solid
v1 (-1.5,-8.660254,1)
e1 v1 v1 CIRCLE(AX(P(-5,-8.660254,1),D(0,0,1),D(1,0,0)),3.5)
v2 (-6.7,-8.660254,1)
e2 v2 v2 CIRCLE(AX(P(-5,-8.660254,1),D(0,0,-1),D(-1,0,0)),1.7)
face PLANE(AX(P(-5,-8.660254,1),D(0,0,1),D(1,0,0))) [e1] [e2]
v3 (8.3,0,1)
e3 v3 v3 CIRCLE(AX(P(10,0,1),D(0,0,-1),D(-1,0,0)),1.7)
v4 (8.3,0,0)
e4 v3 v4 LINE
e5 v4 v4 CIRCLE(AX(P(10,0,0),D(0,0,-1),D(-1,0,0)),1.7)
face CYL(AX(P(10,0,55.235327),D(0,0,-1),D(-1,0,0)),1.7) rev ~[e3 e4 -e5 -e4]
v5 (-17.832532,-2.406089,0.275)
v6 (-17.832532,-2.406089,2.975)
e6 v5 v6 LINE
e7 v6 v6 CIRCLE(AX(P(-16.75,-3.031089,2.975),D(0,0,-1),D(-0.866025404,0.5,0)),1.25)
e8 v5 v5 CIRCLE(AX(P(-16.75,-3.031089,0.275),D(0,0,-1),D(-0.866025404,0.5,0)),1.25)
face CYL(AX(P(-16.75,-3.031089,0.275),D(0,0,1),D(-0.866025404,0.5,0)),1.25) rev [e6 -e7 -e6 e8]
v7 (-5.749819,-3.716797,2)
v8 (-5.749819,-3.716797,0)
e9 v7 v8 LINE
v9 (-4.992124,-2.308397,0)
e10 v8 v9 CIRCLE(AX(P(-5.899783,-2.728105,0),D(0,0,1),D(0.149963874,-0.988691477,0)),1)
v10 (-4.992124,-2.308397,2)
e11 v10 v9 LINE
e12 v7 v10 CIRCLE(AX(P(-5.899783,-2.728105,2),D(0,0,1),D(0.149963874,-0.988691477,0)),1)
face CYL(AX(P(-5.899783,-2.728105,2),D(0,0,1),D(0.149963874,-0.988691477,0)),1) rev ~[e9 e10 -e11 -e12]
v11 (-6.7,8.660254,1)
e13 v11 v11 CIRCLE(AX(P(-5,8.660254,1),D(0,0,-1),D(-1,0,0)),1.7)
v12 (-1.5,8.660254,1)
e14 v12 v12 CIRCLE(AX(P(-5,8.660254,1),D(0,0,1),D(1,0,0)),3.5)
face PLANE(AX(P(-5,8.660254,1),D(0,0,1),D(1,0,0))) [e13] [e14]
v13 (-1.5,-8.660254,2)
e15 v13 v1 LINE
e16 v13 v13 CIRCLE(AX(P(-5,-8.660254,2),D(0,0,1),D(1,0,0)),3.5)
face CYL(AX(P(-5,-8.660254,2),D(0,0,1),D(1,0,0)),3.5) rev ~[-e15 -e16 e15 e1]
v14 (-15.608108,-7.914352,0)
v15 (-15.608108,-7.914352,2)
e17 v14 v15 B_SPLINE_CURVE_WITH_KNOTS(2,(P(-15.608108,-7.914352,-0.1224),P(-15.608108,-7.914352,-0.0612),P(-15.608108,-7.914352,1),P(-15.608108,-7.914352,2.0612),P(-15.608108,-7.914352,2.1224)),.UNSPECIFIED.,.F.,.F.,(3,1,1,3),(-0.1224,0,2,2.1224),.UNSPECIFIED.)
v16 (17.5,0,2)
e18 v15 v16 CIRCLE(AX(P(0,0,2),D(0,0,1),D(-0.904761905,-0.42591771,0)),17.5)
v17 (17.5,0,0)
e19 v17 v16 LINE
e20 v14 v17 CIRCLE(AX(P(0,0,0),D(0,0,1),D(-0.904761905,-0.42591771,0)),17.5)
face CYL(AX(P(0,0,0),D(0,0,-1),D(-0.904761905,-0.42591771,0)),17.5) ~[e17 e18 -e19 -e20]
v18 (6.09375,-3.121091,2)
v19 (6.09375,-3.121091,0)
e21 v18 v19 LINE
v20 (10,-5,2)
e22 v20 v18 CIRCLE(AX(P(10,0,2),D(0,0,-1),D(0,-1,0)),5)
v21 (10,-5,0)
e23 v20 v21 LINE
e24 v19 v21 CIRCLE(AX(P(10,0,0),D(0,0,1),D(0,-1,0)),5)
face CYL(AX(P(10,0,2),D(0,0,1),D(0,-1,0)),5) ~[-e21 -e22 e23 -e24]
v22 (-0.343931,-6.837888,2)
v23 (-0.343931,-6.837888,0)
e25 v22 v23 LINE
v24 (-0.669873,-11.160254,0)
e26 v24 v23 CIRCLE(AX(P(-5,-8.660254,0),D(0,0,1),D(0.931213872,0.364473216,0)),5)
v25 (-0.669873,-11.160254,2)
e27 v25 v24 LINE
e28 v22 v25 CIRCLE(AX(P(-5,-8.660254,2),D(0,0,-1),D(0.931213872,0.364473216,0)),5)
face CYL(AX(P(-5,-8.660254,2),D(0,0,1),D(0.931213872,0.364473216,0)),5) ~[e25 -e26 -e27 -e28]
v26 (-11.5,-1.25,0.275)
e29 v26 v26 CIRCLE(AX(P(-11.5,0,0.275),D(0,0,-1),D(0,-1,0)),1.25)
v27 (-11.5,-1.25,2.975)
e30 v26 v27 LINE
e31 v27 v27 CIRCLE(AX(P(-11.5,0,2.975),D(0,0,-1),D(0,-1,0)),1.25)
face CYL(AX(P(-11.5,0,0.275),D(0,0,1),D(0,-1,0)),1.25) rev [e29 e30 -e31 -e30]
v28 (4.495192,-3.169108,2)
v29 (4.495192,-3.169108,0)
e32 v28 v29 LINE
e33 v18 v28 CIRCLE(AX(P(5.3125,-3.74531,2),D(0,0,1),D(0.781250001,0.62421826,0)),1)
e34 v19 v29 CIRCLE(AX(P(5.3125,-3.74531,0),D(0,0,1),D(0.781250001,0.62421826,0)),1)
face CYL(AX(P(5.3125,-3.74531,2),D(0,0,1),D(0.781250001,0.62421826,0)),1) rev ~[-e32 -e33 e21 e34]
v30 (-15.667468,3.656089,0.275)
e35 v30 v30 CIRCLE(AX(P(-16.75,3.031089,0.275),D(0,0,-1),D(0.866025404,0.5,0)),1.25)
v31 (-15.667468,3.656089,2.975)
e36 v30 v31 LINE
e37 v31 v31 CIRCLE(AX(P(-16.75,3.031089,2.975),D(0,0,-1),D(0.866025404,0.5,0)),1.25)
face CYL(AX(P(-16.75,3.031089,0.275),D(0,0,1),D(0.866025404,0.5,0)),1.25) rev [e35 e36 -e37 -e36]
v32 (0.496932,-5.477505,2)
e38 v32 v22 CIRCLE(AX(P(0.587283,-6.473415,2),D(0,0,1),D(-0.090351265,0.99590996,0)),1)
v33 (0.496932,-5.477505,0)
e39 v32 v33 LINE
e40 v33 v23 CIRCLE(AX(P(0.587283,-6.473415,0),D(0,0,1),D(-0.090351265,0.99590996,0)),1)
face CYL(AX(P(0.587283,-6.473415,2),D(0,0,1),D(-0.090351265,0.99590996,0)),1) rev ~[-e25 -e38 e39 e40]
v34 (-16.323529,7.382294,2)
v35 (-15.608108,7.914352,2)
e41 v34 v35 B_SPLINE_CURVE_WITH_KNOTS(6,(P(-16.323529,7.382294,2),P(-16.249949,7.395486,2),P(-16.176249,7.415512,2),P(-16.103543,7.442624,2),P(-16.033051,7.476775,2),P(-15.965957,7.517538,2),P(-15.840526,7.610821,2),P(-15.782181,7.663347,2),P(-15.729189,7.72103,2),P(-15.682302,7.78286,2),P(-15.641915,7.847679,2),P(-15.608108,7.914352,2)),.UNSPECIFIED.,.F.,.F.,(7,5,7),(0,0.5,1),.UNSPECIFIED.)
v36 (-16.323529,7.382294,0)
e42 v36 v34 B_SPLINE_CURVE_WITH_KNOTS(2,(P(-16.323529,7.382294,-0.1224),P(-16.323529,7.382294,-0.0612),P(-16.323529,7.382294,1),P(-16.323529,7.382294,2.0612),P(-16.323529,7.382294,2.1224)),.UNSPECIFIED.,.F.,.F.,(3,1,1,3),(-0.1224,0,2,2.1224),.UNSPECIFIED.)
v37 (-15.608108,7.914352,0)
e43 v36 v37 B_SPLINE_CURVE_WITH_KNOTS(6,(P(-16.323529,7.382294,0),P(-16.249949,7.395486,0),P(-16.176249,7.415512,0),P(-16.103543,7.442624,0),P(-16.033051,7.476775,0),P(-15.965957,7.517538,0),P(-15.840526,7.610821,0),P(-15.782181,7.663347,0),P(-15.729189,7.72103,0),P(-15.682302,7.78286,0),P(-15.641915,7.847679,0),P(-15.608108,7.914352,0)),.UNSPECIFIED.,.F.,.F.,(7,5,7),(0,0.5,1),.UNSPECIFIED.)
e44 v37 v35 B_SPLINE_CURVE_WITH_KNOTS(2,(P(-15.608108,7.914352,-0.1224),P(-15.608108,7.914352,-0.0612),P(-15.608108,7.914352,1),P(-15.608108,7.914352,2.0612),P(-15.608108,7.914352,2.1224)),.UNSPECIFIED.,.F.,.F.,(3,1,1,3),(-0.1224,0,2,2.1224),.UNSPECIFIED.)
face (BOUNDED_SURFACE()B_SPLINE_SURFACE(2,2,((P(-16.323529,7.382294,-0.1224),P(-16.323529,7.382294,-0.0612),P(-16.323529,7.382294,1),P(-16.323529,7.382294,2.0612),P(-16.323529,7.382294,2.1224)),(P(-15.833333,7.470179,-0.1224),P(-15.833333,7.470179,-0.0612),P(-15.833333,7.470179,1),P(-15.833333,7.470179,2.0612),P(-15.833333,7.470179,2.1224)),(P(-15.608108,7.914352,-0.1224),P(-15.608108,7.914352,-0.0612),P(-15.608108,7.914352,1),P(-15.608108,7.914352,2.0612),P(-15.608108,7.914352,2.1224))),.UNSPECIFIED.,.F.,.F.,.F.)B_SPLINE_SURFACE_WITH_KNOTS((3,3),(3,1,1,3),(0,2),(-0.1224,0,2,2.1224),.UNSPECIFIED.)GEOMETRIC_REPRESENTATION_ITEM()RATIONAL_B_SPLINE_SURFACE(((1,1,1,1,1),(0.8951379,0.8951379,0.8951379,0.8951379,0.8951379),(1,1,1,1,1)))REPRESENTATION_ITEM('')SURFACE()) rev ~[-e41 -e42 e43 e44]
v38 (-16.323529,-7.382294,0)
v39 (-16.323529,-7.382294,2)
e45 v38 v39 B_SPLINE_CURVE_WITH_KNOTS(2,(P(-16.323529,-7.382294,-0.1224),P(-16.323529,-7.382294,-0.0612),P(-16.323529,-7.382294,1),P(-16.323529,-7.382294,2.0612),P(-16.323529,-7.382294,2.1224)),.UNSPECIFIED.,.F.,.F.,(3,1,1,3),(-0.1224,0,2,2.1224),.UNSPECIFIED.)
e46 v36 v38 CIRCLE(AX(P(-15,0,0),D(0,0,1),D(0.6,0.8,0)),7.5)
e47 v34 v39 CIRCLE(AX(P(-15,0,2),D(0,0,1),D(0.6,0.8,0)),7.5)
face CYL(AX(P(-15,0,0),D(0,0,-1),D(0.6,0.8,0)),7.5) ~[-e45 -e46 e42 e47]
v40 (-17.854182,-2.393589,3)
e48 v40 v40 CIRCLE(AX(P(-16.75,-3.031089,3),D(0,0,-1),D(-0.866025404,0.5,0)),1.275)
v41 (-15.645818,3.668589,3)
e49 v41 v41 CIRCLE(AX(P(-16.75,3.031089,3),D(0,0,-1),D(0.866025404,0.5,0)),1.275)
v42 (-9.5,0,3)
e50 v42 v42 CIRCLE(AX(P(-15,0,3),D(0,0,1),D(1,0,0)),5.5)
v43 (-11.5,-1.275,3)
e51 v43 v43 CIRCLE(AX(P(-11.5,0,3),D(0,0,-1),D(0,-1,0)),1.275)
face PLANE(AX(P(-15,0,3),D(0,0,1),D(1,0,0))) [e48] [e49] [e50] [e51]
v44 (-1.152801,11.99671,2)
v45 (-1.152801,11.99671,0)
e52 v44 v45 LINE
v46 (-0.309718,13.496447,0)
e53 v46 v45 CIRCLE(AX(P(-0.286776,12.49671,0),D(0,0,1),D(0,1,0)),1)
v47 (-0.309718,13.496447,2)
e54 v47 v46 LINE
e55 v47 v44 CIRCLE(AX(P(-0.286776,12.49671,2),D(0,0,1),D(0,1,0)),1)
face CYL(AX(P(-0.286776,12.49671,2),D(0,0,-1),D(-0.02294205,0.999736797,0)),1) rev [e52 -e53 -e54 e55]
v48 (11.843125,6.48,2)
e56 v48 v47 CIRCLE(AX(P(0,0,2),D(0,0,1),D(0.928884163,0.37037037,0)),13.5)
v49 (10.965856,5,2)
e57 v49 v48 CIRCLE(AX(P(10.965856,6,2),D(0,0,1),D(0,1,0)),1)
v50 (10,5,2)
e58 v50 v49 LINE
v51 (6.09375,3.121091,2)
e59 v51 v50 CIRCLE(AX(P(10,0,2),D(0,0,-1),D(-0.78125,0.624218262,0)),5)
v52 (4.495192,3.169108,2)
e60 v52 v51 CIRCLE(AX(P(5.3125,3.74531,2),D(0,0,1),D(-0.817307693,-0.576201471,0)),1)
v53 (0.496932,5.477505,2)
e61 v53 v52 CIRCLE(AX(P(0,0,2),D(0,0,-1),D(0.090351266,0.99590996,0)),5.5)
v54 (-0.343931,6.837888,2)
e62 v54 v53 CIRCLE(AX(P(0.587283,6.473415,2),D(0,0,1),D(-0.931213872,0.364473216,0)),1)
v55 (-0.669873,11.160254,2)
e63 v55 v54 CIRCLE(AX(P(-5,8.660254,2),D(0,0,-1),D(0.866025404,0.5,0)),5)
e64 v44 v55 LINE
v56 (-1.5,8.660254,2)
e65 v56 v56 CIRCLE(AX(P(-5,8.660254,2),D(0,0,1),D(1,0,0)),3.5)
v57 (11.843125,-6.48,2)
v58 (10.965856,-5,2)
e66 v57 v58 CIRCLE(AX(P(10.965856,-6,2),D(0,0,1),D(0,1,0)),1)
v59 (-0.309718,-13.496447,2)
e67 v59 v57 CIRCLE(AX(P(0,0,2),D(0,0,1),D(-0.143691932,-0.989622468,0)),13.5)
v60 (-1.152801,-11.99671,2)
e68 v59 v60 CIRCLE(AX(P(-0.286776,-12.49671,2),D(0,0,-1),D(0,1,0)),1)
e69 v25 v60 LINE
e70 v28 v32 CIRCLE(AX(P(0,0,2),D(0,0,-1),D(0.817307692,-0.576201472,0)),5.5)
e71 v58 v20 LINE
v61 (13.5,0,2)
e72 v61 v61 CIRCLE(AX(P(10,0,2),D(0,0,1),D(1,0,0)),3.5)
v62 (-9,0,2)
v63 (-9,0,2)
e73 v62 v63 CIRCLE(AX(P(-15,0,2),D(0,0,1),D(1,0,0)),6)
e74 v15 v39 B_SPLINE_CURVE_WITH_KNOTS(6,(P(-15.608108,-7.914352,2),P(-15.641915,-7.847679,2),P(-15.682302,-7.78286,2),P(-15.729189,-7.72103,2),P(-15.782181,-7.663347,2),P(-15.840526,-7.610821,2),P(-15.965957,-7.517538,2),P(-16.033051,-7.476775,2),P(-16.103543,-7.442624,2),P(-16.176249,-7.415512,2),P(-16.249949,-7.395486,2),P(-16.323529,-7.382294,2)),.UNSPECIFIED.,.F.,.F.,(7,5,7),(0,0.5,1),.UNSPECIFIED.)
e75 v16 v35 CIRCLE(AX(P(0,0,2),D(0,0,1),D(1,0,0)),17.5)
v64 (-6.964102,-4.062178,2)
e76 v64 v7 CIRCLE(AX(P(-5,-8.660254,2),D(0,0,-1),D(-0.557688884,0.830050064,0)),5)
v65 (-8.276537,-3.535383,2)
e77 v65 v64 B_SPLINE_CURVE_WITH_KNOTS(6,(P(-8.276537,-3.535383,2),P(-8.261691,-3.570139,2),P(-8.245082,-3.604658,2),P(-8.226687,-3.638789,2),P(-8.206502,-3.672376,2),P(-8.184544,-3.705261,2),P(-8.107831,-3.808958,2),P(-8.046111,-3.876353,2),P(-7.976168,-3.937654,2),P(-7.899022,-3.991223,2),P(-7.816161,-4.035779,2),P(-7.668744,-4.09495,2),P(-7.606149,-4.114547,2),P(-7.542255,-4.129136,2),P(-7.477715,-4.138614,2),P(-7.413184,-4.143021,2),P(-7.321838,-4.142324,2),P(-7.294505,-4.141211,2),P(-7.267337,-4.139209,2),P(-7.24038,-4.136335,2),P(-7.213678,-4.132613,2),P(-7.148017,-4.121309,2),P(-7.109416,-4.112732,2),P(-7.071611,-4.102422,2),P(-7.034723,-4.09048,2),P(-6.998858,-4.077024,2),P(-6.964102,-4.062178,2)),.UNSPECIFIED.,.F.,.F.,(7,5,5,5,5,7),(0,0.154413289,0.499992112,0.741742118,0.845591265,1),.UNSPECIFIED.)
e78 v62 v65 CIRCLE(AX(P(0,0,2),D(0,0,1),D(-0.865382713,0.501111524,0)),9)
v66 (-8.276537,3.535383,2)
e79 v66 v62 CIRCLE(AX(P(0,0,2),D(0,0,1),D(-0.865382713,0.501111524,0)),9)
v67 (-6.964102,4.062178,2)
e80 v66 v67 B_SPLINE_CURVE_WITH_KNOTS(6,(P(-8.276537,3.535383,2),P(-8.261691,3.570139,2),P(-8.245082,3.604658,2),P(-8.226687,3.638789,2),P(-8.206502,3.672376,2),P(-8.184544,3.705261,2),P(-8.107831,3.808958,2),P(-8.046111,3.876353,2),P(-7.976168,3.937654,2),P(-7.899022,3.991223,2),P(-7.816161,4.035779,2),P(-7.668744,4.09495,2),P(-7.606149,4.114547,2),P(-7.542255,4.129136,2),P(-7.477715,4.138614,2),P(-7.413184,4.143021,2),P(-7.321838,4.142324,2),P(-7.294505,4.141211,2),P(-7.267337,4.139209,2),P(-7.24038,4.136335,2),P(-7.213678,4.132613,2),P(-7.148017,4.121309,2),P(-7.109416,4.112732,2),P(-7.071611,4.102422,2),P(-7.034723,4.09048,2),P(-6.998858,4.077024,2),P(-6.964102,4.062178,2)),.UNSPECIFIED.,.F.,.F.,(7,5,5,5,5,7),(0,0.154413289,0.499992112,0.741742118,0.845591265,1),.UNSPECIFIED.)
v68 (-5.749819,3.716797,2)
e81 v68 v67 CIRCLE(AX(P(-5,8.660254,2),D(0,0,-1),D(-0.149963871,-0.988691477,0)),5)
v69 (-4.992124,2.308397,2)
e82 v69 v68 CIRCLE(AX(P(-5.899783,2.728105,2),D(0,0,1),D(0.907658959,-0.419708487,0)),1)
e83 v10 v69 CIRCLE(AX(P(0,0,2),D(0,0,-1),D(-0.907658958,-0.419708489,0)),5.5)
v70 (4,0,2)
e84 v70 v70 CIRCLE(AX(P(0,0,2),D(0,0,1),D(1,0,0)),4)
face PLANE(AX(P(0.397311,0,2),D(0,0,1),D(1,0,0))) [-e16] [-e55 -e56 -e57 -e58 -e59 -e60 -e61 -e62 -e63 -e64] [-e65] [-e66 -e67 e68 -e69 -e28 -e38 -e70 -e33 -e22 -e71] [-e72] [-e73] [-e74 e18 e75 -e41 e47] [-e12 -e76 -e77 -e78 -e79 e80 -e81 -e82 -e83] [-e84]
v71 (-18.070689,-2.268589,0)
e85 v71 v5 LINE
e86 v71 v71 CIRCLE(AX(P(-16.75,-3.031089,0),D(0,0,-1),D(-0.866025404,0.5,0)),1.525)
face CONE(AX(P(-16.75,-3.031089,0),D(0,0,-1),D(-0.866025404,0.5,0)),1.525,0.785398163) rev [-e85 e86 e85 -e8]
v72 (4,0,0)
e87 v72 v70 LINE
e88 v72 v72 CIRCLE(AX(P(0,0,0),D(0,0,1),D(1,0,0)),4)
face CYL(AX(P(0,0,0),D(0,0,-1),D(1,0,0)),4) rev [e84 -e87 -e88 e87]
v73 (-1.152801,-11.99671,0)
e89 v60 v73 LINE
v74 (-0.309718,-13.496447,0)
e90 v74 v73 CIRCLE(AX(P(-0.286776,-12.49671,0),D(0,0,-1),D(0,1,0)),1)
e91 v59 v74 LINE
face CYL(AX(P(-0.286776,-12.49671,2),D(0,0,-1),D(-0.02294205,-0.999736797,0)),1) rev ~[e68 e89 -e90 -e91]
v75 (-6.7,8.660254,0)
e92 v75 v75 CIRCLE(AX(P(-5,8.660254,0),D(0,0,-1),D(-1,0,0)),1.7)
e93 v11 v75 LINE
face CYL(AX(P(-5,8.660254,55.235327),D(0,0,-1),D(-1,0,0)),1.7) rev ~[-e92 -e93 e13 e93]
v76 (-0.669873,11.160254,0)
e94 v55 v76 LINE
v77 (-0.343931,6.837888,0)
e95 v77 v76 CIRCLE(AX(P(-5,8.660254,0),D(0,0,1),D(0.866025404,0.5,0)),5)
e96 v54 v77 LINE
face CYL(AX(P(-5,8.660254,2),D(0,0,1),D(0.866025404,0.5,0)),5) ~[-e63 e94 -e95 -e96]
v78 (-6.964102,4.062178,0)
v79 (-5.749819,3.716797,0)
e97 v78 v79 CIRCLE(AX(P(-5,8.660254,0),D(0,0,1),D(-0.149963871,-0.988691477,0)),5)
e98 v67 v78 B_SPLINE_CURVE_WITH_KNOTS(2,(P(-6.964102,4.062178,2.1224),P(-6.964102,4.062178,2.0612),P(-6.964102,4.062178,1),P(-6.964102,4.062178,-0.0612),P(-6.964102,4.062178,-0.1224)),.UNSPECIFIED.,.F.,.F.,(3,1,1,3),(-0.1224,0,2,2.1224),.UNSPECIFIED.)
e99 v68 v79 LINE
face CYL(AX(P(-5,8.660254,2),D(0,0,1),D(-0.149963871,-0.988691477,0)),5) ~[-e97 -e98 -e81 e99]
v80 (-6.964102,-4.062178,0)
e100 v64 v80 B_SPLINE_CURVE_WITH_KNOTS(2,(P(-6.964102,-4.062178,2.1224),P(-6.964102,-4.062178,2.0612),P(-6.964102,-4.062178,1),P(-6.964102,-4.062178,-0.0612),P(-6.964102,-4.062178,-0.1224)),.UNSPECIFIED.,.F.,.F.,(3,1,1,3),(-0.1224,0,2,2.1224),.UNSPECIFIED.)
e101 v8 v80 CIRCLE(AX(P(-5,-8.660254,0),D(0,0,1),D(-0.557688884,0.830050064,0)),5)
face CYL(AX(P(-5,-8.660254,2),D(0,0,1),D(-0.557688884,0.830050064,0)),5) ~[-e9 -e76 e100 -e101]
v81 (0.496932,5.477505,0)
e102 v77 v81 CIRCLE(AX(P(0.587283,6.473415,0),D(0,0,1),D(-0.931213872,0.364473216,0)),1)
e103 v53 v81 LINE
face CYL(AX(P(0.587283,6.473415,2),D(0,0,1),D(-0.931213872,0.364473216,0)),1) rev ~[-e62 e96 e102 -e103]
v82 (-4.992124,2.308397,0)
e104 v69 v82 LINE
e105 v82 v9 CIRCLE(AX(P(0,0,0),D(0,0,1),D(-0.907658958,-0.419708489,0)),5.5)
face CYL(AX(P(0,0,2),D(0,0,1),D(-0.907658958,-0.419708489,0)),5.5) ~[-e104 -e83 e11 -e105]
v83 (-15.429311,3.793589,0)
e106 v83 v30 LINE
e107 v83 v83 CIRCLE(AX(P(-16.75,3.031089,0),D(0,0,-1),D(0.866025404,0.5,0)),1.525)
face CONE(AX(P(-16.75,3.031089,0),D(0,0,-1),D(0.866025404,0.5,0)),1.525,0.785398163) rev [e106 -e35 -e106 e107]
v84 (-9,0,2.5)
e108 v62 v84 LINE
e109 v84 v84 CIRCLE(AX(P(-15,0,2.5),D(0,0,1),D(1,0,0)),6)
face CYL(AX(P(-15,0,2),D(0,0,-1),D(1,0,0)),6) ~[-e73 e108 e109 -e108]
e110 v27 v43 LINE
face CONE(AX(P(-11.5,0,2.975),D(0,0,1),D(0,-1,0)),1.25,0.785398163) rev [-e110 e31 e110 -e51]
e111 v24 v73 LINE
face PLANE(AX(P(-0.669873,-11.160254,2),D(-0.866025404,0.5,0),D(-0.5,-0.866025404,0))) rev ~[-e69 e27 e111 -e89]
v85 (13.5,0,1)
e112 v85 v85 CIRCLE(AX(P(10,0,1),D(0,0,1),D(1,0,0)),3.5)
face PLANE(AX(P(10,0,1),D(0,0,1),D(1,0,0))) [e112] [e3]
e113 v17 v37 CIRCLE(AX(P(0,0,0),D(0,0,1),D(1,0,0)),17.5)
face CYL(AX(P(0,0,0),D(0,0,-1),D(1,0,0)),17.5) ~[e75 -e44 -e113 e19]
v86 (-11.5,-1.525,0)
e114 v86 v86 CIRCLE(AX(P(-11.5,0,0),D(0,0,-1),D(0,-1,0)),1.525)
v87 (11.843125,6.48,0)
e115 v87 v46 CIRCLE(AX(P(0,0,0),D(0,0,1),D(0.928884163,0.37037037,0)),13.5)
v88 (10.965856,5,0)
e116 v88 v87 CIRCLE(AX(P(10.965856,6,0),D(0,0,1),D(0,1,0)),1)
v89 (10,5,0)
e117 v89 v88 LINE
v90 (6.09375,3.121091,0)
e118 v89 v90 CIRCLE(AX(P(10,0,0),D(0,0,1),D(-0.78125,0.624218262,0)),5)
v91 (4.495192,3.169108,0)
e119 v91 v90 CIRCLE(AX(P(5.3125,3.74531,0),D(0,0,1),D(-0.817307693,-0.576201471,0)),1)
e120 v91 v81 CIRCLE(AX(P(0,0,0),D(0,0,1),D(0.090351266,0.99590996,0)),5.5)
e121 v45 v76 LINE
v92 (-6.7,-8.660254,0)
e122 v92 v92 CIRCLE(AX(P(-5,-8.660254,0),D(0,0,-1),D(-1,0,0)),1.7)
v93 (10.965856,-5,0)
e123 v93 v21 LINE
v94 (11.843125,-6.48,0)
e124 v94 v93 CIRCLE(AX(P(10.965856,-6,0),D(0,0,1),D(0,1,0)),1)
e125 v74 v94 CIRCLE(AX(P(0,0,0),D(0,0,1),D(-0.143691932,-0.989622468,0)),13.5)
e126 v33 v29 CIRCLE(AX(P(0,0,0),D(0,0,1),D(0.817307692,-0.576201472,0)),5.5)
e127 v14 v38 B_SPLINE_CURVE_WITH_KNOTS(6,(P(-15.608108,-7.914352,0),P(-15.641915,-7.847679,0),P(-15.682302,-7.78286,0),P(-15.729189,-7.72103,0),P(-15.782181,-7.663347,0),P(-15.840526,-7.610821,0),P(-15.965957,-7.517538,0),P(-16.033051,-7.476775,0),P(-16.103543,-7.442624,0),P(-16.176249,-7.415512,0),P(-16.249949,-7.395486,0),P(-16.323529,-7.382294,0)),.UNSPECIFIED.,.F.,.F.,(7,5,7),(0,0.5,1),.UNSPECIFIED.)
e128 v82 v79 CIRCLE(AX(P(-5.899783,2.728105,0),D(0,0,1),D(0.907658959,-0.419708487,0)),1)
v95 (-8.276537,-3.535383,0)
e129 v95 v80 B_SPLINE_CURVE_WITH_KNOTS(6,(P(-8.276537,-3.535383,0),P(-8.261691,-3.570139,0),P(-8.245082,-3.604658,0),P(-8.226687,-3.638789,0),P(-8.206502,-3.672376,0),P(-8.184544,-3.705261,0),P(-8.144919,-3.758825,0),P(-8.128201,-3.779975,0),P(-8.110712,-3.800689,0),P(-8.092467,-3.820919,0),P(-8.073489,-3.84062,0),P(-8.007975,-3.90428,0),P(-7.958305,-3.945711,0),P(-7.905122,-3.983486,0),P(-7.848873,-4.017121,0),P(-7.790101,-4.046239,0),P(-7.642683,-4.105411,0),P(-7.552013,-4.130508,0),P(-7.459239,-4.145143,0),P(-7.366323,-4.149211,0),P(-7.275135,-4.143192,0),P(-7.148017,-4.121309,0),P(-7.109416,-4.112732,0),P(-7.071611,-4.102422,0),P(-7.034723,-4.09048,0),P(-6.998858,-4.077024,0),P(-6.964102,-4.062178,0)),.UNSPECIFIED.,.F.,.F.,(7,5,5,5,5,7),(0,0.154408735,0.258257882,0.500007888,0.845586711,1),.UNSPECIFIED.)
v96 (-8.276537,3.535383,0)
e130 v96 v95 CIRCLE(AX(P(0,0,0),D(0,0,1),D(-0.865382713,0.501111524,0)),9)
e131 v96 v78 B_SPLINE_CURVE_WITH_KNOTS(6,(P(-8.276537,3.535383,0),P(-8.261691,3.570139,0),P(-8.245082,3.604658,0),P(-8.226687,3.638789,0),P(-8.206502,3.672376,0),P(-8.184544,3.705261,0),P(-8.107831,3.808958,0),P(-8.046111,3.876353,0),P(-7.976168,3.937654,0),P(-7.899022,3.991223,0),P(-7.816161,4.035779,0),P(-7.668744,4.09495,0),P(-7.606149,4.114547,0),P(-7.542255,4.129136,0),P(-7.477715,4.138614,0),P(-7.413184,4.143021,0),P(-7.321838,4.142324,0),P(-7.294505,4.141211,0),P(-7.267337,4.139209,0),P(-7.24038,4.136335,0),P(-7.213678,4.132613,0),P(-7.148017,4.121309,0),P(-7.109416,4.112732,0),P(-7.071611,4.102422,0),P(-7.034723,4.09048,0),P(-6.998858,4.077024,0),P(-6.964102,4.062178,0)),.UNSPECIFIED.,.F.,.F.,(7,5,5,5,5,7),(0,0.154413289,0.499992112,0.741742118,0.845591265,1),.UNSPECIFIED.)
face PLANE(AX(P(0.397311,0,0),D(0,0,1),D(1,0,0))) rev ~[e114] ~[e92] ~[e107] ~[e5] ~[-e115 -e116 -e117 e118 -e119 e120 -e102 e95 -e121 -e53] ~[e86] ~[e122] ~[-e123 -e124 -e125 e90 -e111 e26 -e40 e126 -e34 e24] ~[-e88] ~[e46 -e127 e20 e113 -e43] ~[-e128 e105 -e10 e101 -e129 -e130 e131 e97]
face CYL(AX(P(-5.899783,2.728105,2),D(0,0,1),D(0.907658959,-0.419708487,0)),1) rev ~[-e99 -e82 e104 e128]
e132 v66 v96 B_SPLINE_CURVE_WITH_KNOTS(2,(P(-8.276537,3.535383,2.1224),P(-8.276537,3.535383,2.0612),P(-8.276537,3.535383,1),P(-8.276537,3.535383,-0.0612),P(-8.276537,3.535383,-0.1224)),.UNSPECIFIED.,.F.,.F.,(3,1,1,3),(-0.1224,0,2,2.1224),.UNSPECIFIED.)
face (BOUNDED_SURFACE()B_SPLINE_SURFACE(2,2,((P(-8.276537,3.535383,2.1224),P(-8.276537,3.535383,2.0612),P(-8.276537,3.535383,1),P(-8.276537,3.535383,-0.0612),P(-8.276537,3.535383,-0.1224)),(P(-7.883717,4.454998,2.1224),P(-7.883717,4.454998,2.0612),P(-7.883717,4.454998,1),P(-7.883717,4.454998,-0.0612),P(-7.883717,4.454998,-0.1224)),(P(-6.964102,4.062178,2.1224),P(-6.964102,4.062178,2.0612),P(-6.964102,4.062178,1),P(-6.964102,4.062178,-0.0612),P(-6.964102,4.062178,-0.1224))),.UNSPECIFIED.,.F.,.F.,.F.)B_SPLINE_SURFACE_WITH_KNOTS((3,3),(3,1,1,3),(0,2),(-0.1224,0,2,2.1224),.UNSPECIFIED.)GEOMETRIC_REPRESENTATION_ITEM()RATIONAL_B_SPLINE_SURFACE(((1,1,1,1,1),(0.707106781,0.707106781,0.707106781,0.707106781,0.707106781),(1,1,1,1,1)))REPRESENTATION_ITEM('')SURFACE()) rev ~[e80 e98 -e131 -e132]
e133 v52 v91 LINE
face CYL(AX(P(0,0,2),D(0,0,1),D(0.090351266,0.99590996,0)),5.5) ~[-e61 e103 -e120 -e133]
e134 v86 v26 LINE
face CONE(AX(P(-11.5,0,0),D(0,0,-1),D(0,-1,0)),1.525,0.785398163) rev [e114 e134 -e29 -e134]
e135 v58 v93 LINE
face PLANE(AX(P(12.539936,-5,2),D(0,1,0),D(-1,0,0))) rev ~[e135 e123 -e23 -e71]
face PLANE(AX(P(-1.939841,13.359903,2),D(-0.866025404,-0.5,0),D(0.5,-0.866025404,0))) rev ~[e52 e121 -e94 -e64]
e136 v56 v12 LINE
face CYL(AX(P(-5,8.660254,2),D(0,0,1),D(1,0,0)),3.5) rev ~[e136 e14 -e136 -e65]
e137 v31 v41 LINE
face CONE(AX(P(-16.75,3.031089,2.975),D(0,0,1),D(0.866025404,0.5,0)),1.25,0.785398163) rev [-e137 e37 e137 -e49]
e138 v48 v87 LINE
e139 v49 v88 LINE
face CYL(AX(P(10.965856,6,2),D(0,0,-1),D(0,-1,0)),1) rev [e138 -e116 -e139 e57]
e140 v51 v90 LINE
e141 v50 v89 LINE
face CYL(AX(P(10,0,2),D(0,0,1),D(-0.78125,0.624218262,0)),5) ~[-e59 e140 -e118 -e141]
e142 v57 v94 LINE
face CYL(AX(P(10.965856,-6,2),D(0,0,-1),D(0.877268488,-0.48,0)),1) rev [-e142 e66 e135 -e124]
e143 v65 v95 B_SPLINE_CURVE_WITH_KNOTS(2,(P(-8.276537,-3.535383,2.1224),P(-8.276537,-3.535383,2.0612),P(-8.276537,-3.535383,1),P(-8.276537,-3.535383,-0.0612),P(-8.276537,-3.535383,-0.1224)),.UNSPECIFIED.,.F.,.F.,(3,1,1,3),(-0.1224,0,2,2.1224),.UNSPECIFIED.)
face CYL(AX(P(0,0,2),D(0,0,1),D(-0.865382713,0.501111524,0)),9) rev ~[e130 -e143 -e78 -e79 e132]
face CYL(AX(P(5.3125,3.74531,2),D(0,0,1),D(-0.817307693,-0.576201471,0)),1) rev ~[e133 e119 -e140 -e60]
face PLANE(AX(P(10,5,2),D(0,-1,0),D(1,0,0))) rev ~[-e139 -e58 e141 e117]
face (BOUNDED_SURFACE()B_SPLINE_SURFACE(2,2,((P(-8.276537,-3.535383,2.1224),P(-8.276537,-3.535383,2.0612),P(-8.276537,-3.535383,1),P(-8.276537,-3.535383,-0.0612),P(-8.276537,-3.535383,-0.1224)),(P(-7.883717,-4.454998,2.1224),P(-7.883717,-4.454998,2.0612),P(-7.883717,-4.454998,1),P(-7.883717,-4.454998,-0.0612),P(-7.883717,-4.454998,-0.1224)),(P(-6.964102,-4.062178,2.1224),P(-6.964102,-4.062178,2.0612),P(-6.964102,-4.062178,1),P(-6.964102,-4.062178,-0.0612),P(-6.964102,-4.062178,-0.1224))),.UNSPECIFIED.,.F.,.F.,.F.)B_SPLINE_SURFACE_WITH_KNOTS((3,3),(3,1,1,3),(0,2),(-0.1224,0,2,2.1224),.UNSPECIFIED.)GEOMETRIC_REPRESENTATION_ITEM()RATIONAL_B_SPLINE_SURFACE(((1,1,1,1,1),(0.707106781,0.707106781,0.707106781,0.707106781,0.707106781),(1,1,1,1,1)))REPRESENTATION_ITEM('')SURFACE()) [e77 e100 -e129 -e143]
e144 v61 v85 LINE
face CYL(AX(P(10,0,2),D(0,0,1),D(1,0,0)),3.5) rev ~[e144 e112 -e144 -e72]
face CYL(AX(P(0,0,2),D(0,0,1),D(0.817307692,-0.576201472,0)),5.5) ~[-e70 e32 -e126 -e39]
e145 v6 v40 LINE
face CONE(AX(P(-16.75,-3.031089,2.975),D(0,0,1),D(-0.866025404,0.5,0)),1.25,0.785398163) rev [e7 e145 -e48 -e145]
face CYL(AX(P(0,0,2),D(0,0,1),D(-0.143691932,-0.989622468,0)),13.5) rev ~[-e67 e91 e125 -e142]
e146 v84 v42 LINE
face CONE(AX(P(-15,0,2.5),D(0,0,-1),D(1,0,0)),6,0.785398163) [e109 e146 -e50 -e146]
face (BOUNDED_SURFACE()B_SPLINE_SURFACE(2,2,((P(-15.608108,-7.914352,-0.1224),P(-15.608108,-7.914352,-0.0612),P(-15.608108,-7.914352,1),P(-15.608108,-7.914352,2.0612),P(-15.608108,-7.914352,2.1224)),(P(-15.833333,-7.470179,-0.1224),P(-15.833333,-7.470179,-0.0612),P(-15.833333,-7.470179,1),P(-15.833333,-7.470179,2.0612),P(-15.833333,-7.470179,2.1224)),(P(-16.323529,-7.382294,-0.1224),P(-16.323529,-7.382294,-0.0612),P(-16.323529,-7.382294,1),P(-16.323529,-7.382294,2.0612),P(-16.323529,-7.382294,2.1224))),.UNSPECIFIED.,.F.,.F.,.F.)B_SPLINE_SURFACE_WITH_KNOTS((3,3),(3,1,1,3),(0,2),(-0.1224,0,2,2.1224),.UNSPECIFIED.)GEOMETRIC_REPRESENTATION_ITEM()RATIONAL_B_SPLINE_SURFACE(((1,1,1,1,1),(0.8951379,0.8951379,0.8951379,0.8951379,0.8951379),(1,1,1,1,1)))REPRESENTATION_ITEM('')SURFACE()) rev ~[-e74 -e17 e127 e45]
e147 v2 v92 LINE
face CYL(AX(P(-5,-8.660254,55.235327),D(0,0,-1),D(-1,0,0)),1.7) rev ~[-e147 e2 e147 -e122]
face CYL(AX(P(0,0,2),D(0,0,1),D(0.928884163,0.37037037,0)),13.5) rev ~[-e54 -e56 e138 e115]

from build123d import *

# Parameters (mm, degrees)
SKETCH_1_R               = 4
EXTRUDE_1_DEPTH          = 2
SKETCH_6_R               = 6
EXTRUDE_3_DEPTH          = 1
SKETCH_2_R               = 0.5
CUT_EXTRUDE_1_DEPTH      = 2
PATTERN_CIRCULAR_1_COUNT = 3
CHAMFER_1_SIZE           = 0.5
EXTRUDE_START            = -2
EXTRUDE_4_DEPTH          = 2
HOLE_WIZARD_M3_1_D       = 3.4
SKETCH_11_R              = 3.5
CUT_EXTRUDE_3_DEPTH      = 1
CUT_EXTRUDE_4_DEPTH      = 29.574464124
FILLET_1_R               = 1
FILLET_2_R               = 1


with BuildPart() as part:
    # ｽｹｯﾁ1 → ﾎﾞｽ - 押し出し1 (new body)
    with BuildSketch(Plane.XY):
        with BuildLine():
            ThreePointArc((-4.5, -6), (7.5, 0), (-4.5, 6))
            ThreePointArc((-4.5, 6), (-7.5, 5), (-10.5, 6))
            ThreePointArc((-10.5, 6), (-22.5, 0), (-10.5, -6))
            ThreePointArc((-10.5, -6), (-7.5, -5), (-4.5, -6))
        make_face()
        Circle(SKETCH_1_R, mode=Mode.SUBTRACT)
    extrude(amount=EXTRUDE_1_DEPTH)

    # ｽｹｯﾁ6 → ﾎﾞｽ - 押し出し3 (add)
    with BuildSketch(Plane.XY.offset(2)):
        with Locations((-15, 0)):
            Circle(SKETCH_6_R)
    extrude(amount=EXTRUDE_3_DEPTH)

    # ｽｹｯﾁ2 → ｶｯﾄ - 押し出し1 (cut)
    with BuildSketch(Plane.XY.offset(3)):
        with Locations((-11.5, 0)):
            Circle(SKETCH_2_R)
    extrude(amount=-CUT_EXTRUDE_1_DEPTH, mode=Mode.SUBTRACT)

    # ｽｹｯﾁ4 → M3x0.5 ねじ穴1 (revolve, cut)
    with BuildSketch(Plane(origin=(-11.5, 0, 3), x_dir=(0, -1, 0), z_dir=(1, 0, 0))):
        Polygon((0, 0), (0, 3), (1.525, 3), (1.25, 2.725), (1.25, 0.025), (1.275, 0), align=None)
    m3x0_5_1 = revolve(axis=Axis((-11.5, 0, 9.35), (0, 0, -1)), mode=Mode.SUBTRACT)

    # 円形ﾊﾟﾀｰﾝ1: M3x0.5 ねじ穴1 ×3 about axis
    pattern_circular_1_axis = Axis((-15, 0, 0), (0, 0, 1))
    for i in range(1, PATTERN_CIRCULAR_1_COUNT):
        add(m3x0_5_1.rotate(pattern_circular_1_axis, i * 360 / PATTERN_CIRCULAR_1_COUNT), mode=Mode.SUBTRACT)

    # 面取り1
    chamfer_1_edges = [part.edges().sort_by_distance(p)[0] for p in [
        (-21, 0, 3),
    ]]
    chamfer(chamfer_1_edges, length=CHAMFER_1_SIZE)

    # ｽｹｯﾁ7 → ﾎﾞｽ - 押し出し4 (add)
    with BuildSketch(Plane.XY.offset(2).offset(EXTRUDE_START)):
        with BuildLine():
            ThreePointArc((-15.833333333, -7.453559925), (3.818813079, -17.078251277), (17.5, 0))
            ThreePointArc((17.5, 0), (3.818813079, 17.078251277), (-15.833333333, 7.453559925))
            ThreePointArc((-15.833333333, 7.453559925), (-13.027864045, 7.236067977), (-10.5, 6))
            ThreePointArc((-10.5, 6), (-7.5, 5), (-4.5, 6))
            ThreePointArc((-4.5, 6), (7.5, 0), (-4.5, -6))
            ThreePointArc((-4.5, -6), (-7.5, -5), (-10.5, -6))
            ThreePointArc((-10.5, -6), (-13.027864045, -7.236067977), (-15.833333333, -7.453559925))
        make_face()
    extrude(amount=EXTRUDE_4_DEPTH)

    # M3 すきま穴1 (through all)
    with Locations(Plane.XY.offset(2)):
        with Locations((-5, 8.660254038), (-5, -8.660254038), (10, 0)):
            Hole(HOLE_WIZARD_M3_1_D / 2)

    # ｽｹｯﾁ11 → ｶｯﾄ - 押し出し3 (cut)
    with BuildSketch(Plane.XY.offset(2)):
        with Locations((-5, 8.660254038)):
            Circle(SKETCH_11_R)
        with Locations((10, 0)):
            Circle(SKETCH_11_R)
        with Locations((-5, -8.660254038)):
            Circle(SKETCH_11_R)
    extrude(amount=-CUT_EXTRUDE_3_DEPTH, mode=Mode.SUBTRACT)

    # ｽｹｯﾁ12 → ｶｯﾄ - 押し出し4 (cut, through all)
    with BuildSketch(Plane.XY.offset(2)):
        with BuildLine():
            ThreePointArc((6.09375, 3.121091306), (7.83268098, 4.505854887), (10, 5))
            Line((10, 5), (12.539936204, 5))
            ThreePointArc((12.539936204, 5), (6.75, 11.691342951), (-1.939841083, 13.359903314))
            Line((-1.939841083, 13.359903314), (-0.669872981, 11.160254038))
            ThreePointArc((-0.669872981, 11.160254038), (-0.014155692, 9.036228152), (-0.343930642, 6.837887957))
            ThreePointArc((-0.343930642, 6.837887957), (-0.263339736, 5.947638581), (0.496931964, 5.477504781))
            ThreePointArc((0.496931964, 5.477504781), (2.75, 4.763139721), (4.495192308, 3.169108095))
            ThreePointArc((4.495192308, 3.169108095), (5.282475971, 2.745760389), (6.09375, 3.121091306))
        make_face()
        with BuildLine():
            ThreePointArc((-1.939841083, -13.359903314), (6.75, -11.691342951), (12.539936204, -5))
            Line((12.539936204, -5), (10, -5))
            ThreePointArc((10, -5), (7.83268098, -4.505854887), (6.09375, -3.121091306))
            ThreePointArc((6.09375, -3.121091306), (5.282475971, -2.745760389), (4.495192308, -3.169108095))
            ThreePointArc((4.495192308, -3.169108095), (2.75, -4.763139721), (0.496931964, -5.477504781))
            ThreePointArc((0.496931964, -5.477504781), (-0.263339736, -5.947638581), (-0.343930642, -6.837887957))
            ThreePointArc((-0.343930642, -6.837887957), (-0.014155692, -9.036228152), (-0.669872981, -11.160254038))
            Line((-0.669872981, -11.160254038), (-1.939841083, -13.359903314))
        make_face()
        with BuildLine():
            ThreePointArc((-5.749819358, 3.716796652), (-6.813042195, 4.000546107), (-7.788444419, 4.510003717))
            ThreePointArc((-7.788444419, 4.510003717), (-9, 0), (-7.788444419, -4.510003717))
            ThreePointArc((-7.788444419, -4.510003717), (-6.813042195, -4.000546107), (-5.749819358, -3.716796652))
            ThreePointArc((-5.749819358, -3.716796652), (-5.019136236, -3.201878191), (-4.992124271, -2.308396686))
            ThreePointArc((-4.992124271, -2.308396686), (-5.5, 0), (-4.992124271, 2.308396686))
            ThreePointArc((-4.992124271, 2.308396686), (-5.019136236, 3.201878191), (-5.749819358, 3.716796652))
        make_face()
    extrude(amount=-CUT_EXTRUDE_4_DEPTH, mode=Mode.SUBTRACT)

    # ﾌｨﾚｯﾄ1
    fillet_1_edges = [part.edges().sort_by_distance(p)[0] for p in [
        (-1.939841083, 13.359903314, 1),
        (12.539936204, 5, 1),
        (12.539936204, -5, 1),
        (-1.939841083, -13.359903314, 1),
        (-7.788444419, 4.510003717, 1),
        (-7.788444419, -4.510003717, 1),
    ]]
    fillet(fillet_1_edges, radius=FILLET_1_R)

    # ﾌｨﾚｯﾄ2
    fillet_2_edges = [part.edges().sort_by_distance(p)[0] for p in [
        (-15.833333333, 7.453559925, 1),
        (-15.833333333, -7.453559925, 1),
    ]]
    fillet(fillet_2_edges, radius=FILLET_2_R)


solid = part.part
